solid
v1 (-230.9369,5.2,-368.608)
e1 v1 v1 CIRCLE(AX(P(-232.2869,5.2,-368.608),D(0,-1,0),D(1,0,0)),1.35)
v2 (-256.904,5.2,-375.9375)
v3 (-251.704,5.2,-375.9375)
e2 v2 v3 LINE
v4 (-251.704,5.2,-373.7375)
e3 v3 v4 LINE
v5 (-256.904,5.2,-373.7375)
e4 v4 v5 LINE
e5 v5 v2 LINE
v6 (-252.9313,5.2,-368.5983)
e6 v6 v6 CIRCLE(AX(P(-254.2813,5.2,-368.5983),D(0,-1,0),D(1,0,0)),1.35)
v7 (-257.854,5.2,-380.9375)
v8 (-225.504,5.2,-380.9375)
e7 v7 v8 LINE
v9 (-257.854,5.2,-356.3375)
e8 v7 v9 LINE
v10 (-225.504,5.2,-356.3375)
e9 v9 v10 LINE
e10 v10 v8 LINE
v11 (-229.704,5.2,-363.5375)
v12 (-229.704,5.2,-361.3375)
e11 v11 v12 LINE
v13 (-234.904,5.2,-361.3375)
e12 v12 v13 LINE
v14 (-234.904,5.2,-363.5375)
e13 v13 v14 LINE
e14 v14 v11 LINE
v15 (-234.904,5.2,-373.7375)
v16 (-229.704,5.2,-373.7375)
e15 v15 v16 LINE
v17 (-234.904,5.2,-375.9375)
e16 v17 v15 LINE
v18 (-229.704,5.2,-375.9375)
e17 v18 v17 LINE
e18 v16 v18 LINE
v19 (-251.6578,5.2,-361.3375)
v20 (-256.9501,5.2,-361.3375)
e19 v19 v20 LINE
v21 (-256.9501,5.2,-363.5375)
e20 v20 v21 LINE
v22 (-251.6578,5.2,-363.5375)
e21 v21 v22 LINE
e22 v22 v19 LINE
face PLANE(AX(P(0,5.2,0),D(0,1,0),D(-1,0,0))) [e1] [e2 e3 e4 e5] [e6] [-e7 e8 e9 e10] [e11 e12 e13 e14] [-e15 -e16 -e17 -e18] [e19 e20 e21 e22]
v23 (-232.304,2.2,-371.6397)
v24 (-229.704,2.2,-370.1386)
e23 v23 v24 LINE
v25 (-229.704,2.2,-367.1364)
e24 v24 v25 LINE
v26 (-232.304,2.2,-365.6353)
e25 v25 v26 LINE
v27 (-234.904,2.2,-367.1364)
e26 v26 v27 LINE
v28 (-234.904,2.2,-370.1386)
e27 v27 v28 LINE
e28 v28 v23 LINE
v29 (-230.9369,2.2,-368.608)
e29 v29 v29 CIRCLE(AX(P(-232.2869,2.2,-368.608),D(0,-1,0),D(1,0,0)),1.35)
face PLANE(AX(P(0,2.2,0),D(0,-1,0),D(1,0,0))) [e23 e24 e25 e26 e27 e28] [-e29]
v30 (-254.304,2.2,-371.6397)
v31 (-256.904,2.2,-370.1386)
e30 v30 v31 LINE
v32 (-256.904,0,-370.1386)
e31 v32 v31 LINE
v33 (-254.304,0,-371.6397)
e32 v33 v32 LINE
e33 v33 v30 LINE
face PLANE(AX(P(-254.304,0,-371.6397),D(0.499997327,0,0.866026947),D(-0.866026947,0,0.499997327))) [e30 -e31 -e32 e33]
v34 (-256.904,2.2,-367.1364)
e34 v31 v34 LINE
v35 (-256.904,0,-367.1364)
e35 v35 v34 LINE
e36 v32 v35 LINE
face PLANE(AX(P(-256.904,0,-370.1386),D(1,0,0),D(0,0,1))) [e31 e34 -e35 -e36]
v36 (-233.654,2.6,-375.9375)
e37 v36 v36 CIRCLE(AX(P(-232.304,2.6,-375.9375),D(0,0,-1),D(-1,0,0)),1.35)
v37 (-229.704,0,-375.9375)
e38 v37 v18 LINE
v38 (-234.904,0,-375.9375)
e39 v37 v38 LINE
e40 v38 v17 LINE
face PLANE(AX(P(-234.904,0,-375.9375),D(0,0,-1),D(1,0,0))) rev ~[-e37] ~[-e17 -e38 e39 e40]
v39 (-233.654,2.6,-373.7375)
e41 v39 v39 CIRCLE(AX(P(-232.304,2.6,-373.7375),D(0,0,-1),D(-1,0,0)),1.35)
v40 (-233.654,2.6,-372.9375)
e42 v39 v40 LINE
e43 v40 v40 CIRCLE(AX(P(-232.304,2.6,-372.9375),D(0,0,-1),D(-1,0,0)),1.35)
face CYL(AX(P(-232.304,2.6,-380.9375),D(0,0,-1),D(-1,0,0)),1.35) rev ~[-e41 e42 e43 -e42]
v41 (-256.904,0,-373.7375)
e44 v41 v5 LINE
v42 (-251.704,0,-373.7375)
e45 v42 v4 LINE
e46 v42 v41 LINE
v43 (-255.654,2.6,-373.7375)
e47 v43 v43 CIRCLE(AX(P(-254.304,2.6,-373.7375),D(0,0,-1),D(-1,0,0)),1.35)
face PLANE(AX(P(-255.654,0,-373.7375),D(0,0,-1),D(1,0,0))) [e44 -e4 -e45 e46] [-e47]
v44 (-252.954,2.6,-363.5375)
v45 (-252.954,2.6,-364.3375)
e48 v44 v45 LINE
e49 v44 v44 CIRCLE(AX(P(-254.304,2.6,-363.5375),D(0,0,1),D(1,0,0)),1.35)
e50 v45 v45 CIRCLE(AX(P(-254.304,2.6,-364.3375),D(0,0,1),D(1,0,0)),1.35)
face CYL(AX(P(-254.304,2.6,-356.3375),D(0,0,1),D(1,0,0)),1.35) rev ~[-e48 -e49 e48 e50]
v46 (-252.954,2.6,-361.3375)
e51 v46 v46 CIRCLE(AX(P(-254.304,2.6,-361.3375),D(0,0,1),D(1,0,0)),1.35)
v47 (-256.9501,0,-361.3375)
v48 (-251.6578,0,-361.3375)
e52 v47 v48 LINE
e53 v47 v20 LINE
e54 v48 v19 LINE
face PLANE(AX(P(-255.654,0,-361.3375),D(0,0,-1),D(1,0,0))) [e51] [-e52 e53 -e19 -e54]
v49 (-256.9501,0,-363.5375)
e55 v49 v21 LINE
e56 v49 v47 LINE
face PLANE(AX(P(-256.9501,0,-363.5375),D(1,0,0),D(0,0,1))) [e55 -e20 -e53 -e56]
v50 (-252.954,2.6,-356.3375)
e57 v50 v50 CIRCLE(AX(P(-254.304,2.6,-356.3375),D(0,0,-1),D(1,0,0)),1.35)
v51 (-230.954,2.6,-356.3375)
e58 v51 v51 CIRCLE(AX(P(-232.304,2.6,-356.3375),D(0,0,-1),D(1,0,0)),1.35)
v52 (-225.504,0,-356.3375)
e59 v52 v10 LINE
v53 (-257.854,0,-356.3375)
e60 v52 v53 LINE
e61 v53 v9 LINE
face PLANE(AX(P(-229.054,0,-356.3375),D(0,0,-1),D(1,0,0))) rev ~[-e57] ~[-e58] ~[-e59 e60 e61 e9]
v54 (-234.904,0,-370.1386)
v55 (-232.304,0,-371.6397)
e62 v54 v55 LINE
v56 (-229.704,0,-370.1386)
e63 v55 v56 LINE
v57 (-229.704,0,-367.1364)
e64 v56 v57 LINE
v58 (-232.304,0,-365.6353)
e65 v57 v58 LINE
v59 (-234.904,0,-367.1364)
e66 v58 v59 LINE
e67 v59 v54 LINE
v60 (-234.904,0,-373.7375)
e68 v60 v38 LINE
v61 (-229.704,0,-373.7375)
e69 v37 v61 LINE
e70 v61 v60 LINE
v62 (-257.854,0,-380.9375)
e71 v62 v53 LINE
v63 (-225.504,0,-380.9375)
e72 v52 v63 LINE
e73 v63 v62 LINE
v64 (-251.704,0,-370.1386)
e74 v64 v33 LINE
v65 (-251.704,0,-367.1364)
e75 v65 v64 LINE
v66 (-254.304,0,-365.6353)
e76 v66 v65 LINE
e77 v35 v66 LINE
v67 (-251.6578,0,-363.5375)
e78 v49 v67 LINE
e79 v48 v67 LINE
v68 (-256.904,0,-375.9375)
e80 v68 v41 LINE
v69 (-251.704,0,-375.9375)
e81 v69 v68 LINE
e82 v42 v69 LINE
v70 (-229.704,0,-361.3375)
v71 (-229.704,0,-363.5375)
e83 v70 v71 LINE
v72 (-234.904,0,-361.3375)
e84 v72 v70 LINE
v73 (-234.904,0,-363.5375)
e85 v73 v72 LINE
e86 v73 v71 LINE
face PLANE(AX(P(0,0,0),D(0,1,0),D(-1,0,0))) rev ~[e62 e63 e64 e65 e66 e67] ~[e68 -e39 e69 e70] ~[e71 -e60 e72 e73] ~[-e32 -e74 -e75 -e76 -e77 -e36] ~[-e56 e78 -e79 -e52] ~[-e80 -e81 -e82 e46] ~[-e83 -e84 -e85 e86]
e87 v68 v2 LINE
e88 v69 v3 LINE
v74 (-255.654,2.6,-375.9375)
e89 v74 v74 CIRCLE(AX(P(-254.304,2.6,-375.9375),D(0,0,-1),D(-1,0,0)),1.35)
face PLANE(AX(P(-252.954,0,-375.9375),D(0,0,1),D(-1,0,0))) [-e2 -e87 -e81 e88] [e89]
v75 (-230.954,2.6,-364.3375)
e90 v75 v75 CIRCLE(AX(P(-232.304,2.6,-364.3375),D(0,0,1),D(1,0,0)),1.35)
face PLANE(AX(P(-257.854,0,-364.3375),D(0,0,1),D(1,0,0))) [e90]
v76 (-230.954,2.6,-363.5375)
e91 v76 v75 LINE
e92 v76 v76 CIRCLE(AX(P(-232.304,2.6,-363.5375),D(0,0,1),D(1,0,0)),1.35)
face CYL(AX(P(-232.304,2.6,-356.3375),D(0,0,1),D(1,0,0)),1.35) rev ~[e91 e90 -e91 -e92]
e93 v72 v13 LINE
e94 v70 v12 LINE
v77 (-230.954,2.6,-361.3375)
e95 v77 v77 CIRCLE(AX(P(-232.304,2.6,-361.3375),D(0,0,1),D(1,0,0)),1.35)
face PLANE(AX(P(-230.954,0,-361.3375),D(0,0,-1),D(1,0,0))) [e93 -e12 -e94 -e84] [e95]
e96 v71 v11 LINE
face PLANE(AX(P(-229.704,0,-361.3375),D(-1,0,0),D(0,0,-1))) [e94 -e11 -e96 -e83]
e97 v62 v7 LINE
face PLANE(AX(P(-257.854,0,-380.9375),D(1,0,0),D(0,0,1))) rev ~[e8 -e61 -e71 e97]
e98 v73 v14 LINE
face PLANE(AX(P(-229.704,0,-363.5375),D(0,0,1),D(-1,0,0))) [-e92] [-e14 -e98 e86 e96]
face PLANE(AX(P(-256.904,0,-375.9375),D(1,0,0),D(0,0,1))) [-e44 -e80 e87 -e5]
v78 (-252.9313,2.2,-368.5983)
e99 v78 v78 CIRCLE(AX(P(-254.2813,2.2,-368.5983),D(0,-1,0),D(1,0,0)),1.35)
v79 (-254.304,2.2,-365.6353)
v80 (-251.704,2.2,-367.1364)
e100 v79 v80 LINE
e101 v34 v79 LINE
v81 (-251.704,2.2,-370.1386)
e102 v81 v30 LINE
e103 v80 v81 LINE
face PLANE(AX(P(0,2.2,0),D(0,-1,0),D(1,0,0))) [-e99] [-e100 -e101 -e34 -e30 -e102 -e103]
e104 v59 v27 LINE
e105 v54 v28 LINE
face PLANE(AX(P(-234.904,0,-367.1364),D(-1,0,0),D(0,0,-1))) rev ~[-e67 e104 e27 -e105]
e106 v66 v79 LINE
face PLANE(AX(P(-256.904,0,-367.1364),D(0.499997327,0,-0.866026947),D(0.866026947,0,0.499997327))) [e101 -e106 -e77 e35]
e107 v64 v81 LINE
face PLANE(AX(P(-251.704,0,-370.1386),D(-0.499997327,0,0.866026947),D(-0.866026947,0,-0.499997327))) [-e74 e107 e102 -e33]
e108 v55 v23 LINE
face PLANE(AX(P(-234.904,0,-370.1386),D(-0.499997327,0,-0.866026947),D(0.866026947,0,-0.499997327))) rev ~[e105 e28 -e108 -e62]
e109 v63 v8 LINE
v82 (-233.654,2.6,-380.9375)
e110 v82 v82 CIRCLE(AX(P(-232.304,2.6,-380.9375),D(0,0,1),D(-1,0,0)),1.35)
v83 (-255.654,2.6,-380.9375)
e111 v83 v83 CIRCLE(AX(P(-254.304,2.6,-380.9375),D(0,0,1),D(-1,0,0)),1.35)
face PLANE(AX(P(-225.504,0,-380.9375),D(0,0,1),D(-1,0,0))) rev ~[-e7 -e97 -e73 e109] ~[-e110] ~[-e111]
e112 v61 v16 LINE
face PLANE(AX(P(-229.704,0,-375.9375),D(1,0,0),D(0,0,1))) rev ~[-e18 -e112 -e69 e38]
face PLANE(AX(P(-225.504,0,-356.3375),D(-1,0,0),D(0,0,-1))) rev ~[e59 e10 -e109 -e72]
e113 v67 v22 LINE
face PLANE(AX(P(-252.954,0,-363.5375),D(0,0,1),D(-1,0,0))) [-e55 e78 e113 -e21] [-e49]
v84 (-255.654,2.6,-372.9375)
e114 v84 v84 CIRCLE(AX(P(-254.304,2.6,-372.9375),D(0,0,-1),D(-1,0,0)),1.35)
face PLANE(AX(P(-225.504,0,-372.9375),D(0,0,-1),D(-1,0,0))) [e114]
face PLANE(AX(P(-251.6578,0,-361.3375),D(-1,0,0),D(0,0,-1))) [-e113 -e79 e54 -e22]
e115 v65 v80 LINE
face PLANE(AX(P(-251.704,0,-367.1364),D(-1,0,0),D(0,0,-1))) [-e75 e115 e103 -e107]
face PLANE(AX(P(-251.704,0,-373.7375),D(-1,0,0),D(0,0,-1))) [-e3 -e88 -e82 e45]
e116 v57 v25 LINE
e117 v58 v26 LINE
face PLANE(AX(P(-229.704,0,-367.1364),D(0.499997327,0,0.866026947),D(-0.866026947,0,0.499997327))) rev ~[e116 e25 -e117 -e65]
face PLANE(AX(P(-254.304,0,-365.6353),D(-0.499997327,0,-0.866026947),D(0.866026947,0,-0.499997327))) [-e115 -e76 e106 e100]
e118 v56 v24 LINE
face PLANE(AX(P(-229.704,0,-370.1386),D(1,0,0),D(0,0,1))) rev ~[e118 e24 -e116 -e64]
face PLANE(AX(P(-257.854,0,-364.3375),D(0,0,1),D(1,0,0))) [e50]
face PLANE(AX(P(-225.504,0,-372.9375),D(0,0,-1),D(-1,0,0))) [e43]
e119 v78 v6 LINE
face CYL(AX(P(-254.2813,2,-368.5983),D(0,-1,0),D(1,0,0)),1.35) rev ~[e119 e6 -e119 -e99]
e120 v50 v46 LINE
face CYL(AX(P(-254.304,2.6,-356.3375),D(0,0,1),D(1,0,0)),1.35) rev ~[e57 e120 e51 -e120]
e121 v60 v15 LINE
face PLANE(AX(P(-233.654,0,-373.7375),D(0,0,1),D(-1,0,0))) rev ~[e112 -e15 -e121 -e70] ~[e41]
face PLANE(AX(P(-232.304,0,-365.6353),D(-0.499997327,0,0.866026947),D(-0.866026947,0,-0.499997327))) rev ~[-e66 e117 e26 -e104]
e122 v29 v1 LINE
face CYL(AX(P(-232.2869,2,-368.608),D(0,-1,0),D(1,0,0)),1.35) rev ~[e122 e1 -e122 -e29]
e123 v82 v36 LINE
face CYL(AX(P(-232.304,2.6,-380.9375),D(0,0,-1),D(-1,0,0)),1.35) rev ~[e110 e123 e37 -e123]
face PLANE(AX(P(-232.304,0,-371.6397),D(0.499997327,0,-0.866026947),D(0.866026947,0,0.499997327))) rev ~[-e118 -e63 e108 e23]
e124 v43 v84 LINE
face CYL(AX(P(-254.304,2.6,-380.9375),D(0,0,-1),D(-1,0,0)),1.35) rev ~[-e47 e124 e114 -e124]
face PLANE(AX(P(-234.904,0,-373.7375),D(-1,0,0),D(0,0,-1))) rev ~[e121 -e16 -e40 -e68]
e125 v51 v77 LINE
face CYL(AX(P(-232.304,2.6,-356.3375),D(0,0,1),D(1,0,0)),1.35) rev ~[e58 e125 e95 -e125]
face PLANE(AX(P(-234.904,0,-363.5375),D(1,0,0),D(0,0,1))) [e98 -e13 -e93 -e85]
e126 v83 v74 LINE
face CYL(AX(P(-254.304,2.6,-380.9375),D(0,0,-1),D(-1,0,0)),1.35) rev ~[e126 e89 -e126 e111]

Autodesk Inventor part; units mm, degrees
ref_plane "YZ Plane" through (0, 0, 0) normal (1, 0, 0) x (0, 1, 0)
ref_plane "XZ Plane" through (0, 0, 0) normal (0, 1, 0) x (-1, 0, 0)
ref_plane "XY Plane" through (0, 0, 0) normal (0, 0, 1) x (1, 0, 0)
sketch "스케치1" plane through (0, 0, 0) normal (0, 1, 0) x (-1, 0, 0)
  line L0 (206.554, -381.1375) -> (206.9537, -381.1375)
  line L1 (206.9537, -381.1375) -> (207.1542, -381.1375)
  line L2 (207.1542, -381.1375) -> (210.304, -381.1375)
  line L3 (210.304, -381.1375) -> (210.304, -370.6375)
  line L4 (210.304, -370.6375) -> (211.404, -370.6375)
  line L5 (211.404, -370.6375) -> (211.404, -356.1375)
  line L6 (211.404, -356.1375) -> (224.204, -356.1375)
  line L7 (224.204, -370.6375) -> (224.204, -356.1375)
  line L8 (224.204, -370.6375) -> (225.304, -370.6375)
  line L9 (225.304, -381.1375) -> (225.304, -370.6375)
  line L10 (225.304, -381.1375) -> (228.9537, -381.1375)
  line L11 (228.9537, -381.1375) -> (229.1542, -381.1375)
  line L12 (229.1542, -381.1375) -> (233.029, -381.1375)
  line L13 (233.029, -383.6375) -> (233.029, -381.1375)
  line L14 (233.029, -383.6375) -> (247.079, -383.6375)
  line L15 (247.079, -383.6375) -> (247.079, -381.1375)
  line L16 (247.079, -381.1375) -> (250.9537, -381.1375)
  line L17 (250.9537, -381.1375) -> (251.1542, -381.1375)
  line L18 (251.1542, -381.1375) -> (255.029, -381.1375)
  line L19 (255.029, -383.6375) -> (255.029, -381.1375)
  line L20 (255.029, -383.6375) -> (258.054, -383.6375)
  line L21 (258.054, -353.6375) -> (258.054, -383.6375)
  line L22 (255.029, -353.6375) -> (258.054, -353.6375)
  line L23 (255.029, -353.6375) -> (255.029, -356.1375)
  line L24 (251.1542, -356.1375) -> (255.029, -356.1375)
  line L25 (250.9537, -356.1375) -> (251.1542, -356.1375)
  line L26 (247.079, -356.1375) -> (250.9537, -356.1375)
  line L27 (247.079, -353.6375) -> (247.079, -356.1375)
  line L28 (233.029, -353.6375) -> (247.079, -353.6375)
  line L29 (233.029, -353.6375) -> (233.029, -356.1375)
  line L30 (229.1542, -356.1375) -> (233.029, -356.1375)
  line L31 (228.9537, -356.1375) -> (229.1542, -356.1375)
  line L32 (225.079, -356.1375) -> (228.9537, -356.1375)
  line L33 (225.079, -353.6375) -> (225.079, -356.1375)
  line L34 (211.029, -353.6375) -> (225.079, -353.6375)
  line L35 (211.029, -353.6375) -> (211.029, -356.1375)
  line L36 (207.1542, -356.1375) -> (211.029, -356.1375)
  line L37 (206.9537, -356.1375) -> (207.1542, -356.1375)
  line L38 (206.554, -356.1375) -> (206.9537, -356.1375)
  line L39 (206.554, -356.1375) -> (206.554, -381.1375)
  circle A0 centre (240.054, -368.6375) radius 5.2901
  line L40 (258.054, -356.1375) -> (225.304, -356.1375)
  line L41 (225.304, -356.1375) -> (225.304, -381.1375)
  line L42 (225.304, -381.1375) -> (258.054, -381.1375)
  line L43 (258.054, -381.1375) -> (258.054, -356.1375)
  line L44 (257.854, -356.3375) -> (225.504, -356.3375)
  line L45 (225.504, -356.3375) -> (225.504, -380.9375)
  line L46 (225.504, -380.9375) -> (257.854, -380.9375)
  line L47 (257.854, -380.9375) -> (257.854, -356.3375)
  line L48 (255.029, -354.8875) -> (251.054, -354.8875)
  circle A1 centre (251.054, -354.8875) radius 0.8707
  line L49 (255.029, -382.3875) -> (247.079, -382.3875)
  line L50 (251.054, -354.8875) -> (251.054, -382.3875)
  line L51 (233.029, -354.8875) -> (229.054, -354.8875)
  line L52 (229.054, -354.8875) -> (229.054, -382.3875)
  dimension "d37" = 25
  dimension "d38" = 32.75
  dimension "d39" = 0.2
  dimension "d40" = 2.5
  dimension "d41" = 7.95
  dimension "d42" = 3.975
  dimension "d43" = 3.975
extrude "돌출2" add sketch "스케치1" along normal blind 5.2 contours L52 L46 L45 L44 | L44 L50 L46 L52 | L44 L47 L46 L50 | A0
sketch "스케치4" plane through (-225.504, 0, -380.9375) normal (0, 0, -1) x (-1, 0, 0)
  line L0 (0, 0) -> (32.35, 0) projected
  line L1 (32.35, 0) -> (32.35, 5.2) projected
  line L2 (0, 5.2) -> (32.35, 5.2) projected
  line L3 (0, 0) -> (0, 5.2) projected
  line L4 (32.35, 5.2) -> (28.8, 5.2)
  line L5 (32.35, 5.2) -> (0, 5.2) projected
  line L6 (0, 5.2) -> (6.8, 5.2)
  line L7 (32.35, 2.6) -> (0, 2.6)
  circle A0 centre (28.8, 2.6) radius 1.35
  circle A1 centre (6.8, 2.6) radius 1.35
  point P0 (-225.504, 0)
  dimension "d59" = 3.55
  dimension "d60" = 6.8
  dimension "d69" = 2.7
  dimension "d70" = 2.7
extrude "돌출3" cut sketch "스케치4" against normal blind 8 contours A1 L7 | L7 A1 | A0 L7 | L7 A0
sketch "스케치5" plane through (-257.854, 0, -356.3375) normal (0, 0, 1) x (1, 0, 0)
  circle A0 centre (3.55, 3) radius 1.35 projected
  circle A1 centre (25.55, 3) radius 1.35 projected
  circle A2 centre (3.55, 2.6) radius 1.35 projected
  circle A3 centre (25.55, 2.6) radius 1.35 projected
  point P0 (257.854, 0)
extrude "돌출4" cut sketch "스케치5" against normal blind 8 contours A2 A0 | A0 A2 | A3 A1 | A1 A3 picked at (3.4443, 2.4292) picked at (3.7277, 1.535) picked at (25.4443, 2.4292) picked at (25.7277, 1.535)
sketch "스케치6" plane through (0, 0, 0) normal (0, -1, 0) x (1, 0, 0)
  line L0 (-225.504, -356.3375) -> (-225.504, -380.9375) projected
  line L1 (-225.504, -356.3375) -> (-225.504, -380.9375) projected
  line L2 (-225.504, -356.3375) -> (-225.504, -380.9375) projected
  line L3 (-225.504, -356.3375) -> (-225.504, -380.9375) projected
  line L4 (-257.854, -356.3375) -> (-225.504, -356.3375) projected
  line L5 (-230.954, -380.9375) -> (-233.654, -380.9375) projected
  line L6 (-230.954, -372.9375) -> (-233.654, -372.9375) projected
  line L7 (-233.654, -356.3375) -> (-230.954, -356.3375) projected
  line L8 (-233.654, -364.3375) -> (-230.954, -364.3375) projected
  line L9 (-230.954, -372.9375) -> (-233.654, -372.9375) projected
  line L10 (-230.954, -372.9375) -> (-233.654, -372.9375) projected
  line L11 (-230.954, -380.9375) -> (-233.654, -380.9375) projected
  line L12 (-233.654, -364.3375) -> (-230.954, -364.3375) projected
  line L13 (-233.654, -364.3375) -> (-230.954, -364.3375) projected
  line L14 (-233.654, -356.3375) -> (-230.954, -356.3375) projected
  line L15 (-255.654, -356.3375) -> (-252.954, -356.3375) projected
  line L16 (-255.654, -364.3375) -> (-252.954, -364.3375) projected
  line L17 (-255.654, -356.3375) -> (-252.954, -356.3375) projected
  line L18 (-257.854, -356.3375) -> (-225.504, -356.3375) projected
  line L19 (-257.854, -380.9375) -> (-257.854, -356.3375) projected
  line L20 (-257.854, -380.9375) -> (-257.854, -356.3375) projected
  line L21 (-257.854, -356.3375) -> (-225.504, -356.3375) projected
  line L22 (-257.854, -380.9375) -> (-257.854, -356.3375) projected
  line L23 (-225.504, -380.9375) -> (-257.854, -380.9375) projected
  line L24 (-225.504, -356.3375) -> (-225.504, -380.9375) projected
  line L25 (-257.854, -356.3375) -> (-225.504, -356.3375) projected
  line L26 (-225.504, -356.3375) -> (-225.504, -380.9375) projected
  line L27 (-225.504, -380.9375) -> (-257.854, -380.9375) projected
  line L28 (-257.854, -380.9375) -> (-257.854, -356.3375) projected
  line L29 (-257.854, -356.3375) -> (-225.504, -356.3375) projected
  line L30 (-257.854, -356.3375) -> (-225.504, -356.3375) projected
  line L31 (-257.854, -380.9375) -> (-257.854, -356.3375) projected
  line L32 (-257.854, -380.9375) -> (-257.854, -356.3375) projected
  line L33 (-255.654, -364.3375) -> (-252.954, -364.3375) projected
  line L34 (-255.654, -364.3375) -> (-252.954, -364.3375) projected
  line L35 (-252.954, -372.9375) -> (-255.654, -372.9375) projected
  line L36 (-252.954, -372.9375) -> (-255.654, -372.9375) projected
  line L37 (-252.954, -372.9375) -> (-255.654, -372.9375) projected
  line L38 (-252.954, -380.9375) -> (-255.654, -380.9375) projected
  line L39 (-252.954, -380.9375) -> (-255.654, -380.9375) projected
  line L40 (-225.504, -380.9375) -> (-257.854, -380.9375) projected
  line L41 (-225.504, -380.9375) -> (-257.854, -380.9375) projected
  line L42 (-225.504, -380.9375) -> (-257.854, -380.9375) projected
  line L43 (-225.504, -380.9375) -> (-257.854, -380.9375) projected
  line L44 (-252.954, -356.3375) -> (-252.954, -364.3375) projected
  line L45 (-255.654, -356.3375) -> (-255.654, -364.3375) projected
  line L46 (-255.654, -380.9375) -> (-255.654, -372.9375) projected
  line L47 (-252.954, -380.9375) -> (-252.954, -372.9375) projected
  line L48 (-233.654, -380.9375) -> (-233.654, -372.9375) projected
  line L49 (-230.954, -380.9375) -> (-230.954, -372.9375) projected
  line L50 (-233.654, -356.3375) -> (-233.654, -364.3375) projected
  line L51 (-230.954, -356.3375) -> (-230.954, -364.3375) projected
  line L52 (-232.304, -365.7508) -> (-231.054, -366.4725)
  line L53 (-233.554, -366.4725) -> (-232.304, -365.7508)
  line L54 (-229.804, -367.1941) -> (-229.804, -368.6375)
  line L55 (-231.054, -366.4725) -> (-229.804, -367.1941)
  line L56 (-234.804, -368.6375) -> (-234.804, -367.1941)
  line L57 (-234.804, -367.1941) -> (-233.554, -366.4725)
  line L58 (-234.804, -368.6375) -> (-234.804, -367.1941)
  line L59 (-234.804, -370.0809) -> (-234.804, -368.6375)
  line L60 (-231.054, -370.8026) -> (-232.304, -371.5243)
  line L61 (-232.304, -371.5243) -> (-233.554, -370.8026)
  line L62 (-229.804, -368.6375) -> (-229.804, -370.0809)
  line L63 (-229.804, -370.0809) -> (-231.054, -370.8026)
  line L64 (-229.804, -367.1941) -> (-229.804, -368.6375)
  line L65 (-231.054, -366.4725) -> (-229.804, -367.1941)
  line L66 (-233.554, -370.8026) -> (-234.804, -370.0809)
  line L67 (-234.804, -370.0809) -> (-234.804, -368.6375)
  line L68 (-254.304, -365.7508) -> (-253.054, -366.4725)
  line L69 (-255.554, -366.4725) -> (-254.304, -365.7508)
  line L70 (-251.804, -367.1941) -> (-251.804, -368.6375)
  line L71 (-253.054, -366.4725) -> (-251.804, -367.1941)
  line L72 (-256.804, -368.6375) -> (-256.804, -367.1941)
  line L73 (-256.804, -367.1941) -> (-255.554, -366.4725)
  line L74 (-256.804, -368.6375) -> (-256.804, -367.1941)
  line L75 (-256.804, -370.0809) -> (-256.804, -368.6375)
  line L76 (-253.054, -370.8026) -> (-254.304, -371.5243)
  line L77 (-254.304, -371.5243) -> (-255.554, -370.8026)
  line L78 (-251.804, -368.6375) -> (-251.804, -370.0809)
  line L79 (-251.804, -370.0809) -> (-253.054, -370.8026)
  line L80 (-251.804, -367.1941) -> (-251.804, -368.6375)
  line L81 (-253.054, -366.4725) -> (-251.804, -367.1941)
  line L82 (-255.554, -370.8026) -> (-256.804, -370.0809)
  line L83 (-256.804, -370.0809) -> (-256.804, -368.6375)
  point P0 (0, 0)
  point P1 (-232.304, -368.6375)
  point P2 (-254.304, -368.6375)
  dimension "d75" = 5.7735
extrude "돌출5" cut sketch "스케치6" against normal blind 2 contours L52 L55 L54 L62 L63 L60 L61 L66 L59 L56 L57 L53 | L68 L71 L70 L78 L79 L76 L77 L82 L75 L72 L73 L69
sketch "스케치7" plane through (0, 2, 0) normal (0, -1, 0) x (1, 0, 0)
  line L0 (-256.804, -367.1941) -> (-254.304, -365.7508) projected
  line L1 (-256.804, -370.0809) -> (-256.804, -367.1941) projected
  line L2 (-254.304, -371.5243) -> (-256.804, -370.0809) projected
  line L3 (-251.804, -370.0809) -> (-254.304, -371.5243) projected
  line L4 (-251.804, -367.1941) -> (-251.804, -370.0809) projected
  line L5 (-254.304, -365.7508) -> (-251.804, -367.1941) projected
  line L6 (-234.804, -367.1941) -> (-232.304, -365.7508) projected
  line L7 (-234.804, -370.0809) -> (-234.804, -367.1941) projected
  line L8 (-232.304, -371.5243) -> (-234.804, -370.0809) projected
  line L9 (-229.804, -370.0809) -> (-232.304, -371.5243) projected
  line L10 (-229.804, -367.1941) -> (-229.804, -370.0809) projected
  line L11 (-232.304, -365.7508) -> (-229.804, -367.1941) projected
  circle A0 centre (-254.2813, -368.5983) radius 1.35
  circle A1 centre (-232.2869, -368.608) radius 1.35
  point P0 (0, 0)
  dimension "d71" = 2.7
  dimension "d72" = 2.7
extrude "돌출6" cut sketch "스케치7" against normal blind 8 contours A0 | A1
sketch "스케치9" plane through (0, 0, 0) normal (0, -1, 0) x (1, 0, 0)
  circle A0 centre (-232.2869, -368.608) radius 1.35 projected
  line L0 (-234.804, -367.1941) -> (-232.304, -365.7508) projected
  line L1 (-234.804, -370.0809) -> (-234.804, -367.1941) projected
  line L2 (-232.304, -371.5243) -> (-234.804, -370.0809) projected
  line L3 (-229.804, -370.0809) -> (-232.304, -371.5243) projected
  line L4 (-229.804, -367.1941) -> (-229.804, -370.0809) projected
  line L5 (-232.304, -365.7508) -> (-229.804, -367.1941) projected
  circle A1 centre (-254.2813, -368.5983) radius 1.35 projected
  line L6 (-256.804, -367.1941) -> (-254.304, -365.7508) projected
  line L7 (-256.804, -370.0809) -> (-256.804, -367.1941) projected
  line L8 (-254.304, -371.5243) -> (-256.804, -370.0809) projected
  line L9 (-251.804, -370.0809) -> (-254.304, -371.5243) projected
  line L10 (-251.804, -367.1941) -> (-251.804, -370.0809) projected
  line L11 (-254.304, -365.7508) -> (-251.804, -367.1941) projected
  line L12 (-251.704, -367.1364) -> (-251.704, -370.1386)
  line L13 (-251.704, -370.1386) -> (-254.304, -371.6397)
  line L14 (-254.304, -371.6397) -> (-256.904, -370.1386)
  line L15 (-256.904, -370.1386) -> (-256.904, -367.1364)
  line L16 (-256.904, -367.1364) -> (-254.304, -365.6353)
  line L17 (-254.304, -365.6353) -> (-251.704, -367.1364)
  line L18 (-232.304, -365.6353) -> (-234.904, -367.1364)
  line L19 (-234.904, -367.1364) -> (-234.904, -370.1386)
  line L20 (-234.904, -370.1386) -> (-232.304, -371.6397)
  line L21 (-232.304, -371.6397) -> (-229.704, -370.1386)
  line L22 (-229.704, -370.1386) -> (-229.704, -367.1364)
  line L23 (-229.704, -367.1364) -> (-232.304, -365.6353)
  point P0 (0, 0)
  dimension "d78" = 0.1
  dimension "d79" = 0.1
extrude "돌출7" cut sketch "스케치9" against normal blind 2.2 contours A0 | L0 L5 L4 L3 L2 L1 | A1 | L6 L11 L10 L9 L8 L7 | L12 L13 L14 L15 L16 L17 | L23 L22 L21 L20 L19 L18
sketch "스케치10" plane through (0, 0, 0) normal (0, -1, 0) x (1, 0, 0)
  line L0 (-252.954, -380.9375) -> (-255.654, -380.9375) projected
  line L1 (-257.854, -380.9375) -> (-257.854, -356.3375) projected
  line L2 (-257.854, -380.9375) -> (-257.854, -356.3375) projected
  line L3 (-255.654, -356.3375) -> (-252.954, -356.3375) projected
  line L4 (-252.954, -372.9375) -> (-255.654, -372.9375) projected
  line L5 (-255.654, -364.3375) -> (-252.954, -364.3375) projected
  circle A0 centre (-254.2813, -368.5983) radius 1.35 projected
  line L6 (-230.954, -380.9375) -> (-233.654, -380.9375) projected
  line L7 (-230.954, -372.9375) -> (-233.654, -372.9375) projected
  line L8 (-230.954, -372.9375) -> (-233.654, -372.9375) projected
  line L9 (-230.954, -372.9375) -> (-233.654, -372.9375) projected
  line L10 (-230.954, -380.9375) -> (-233.654, -380.9375) projected
  line L11 (-233.654, -364.3375) -> (-230.954, -364.3375) projected
  line L12 (-233.654, -364.3375) -> (-230.954, -364.3375) projected
  line L13 (-233.654, -356.3375) -> (-230.954, -356.3375) projected
  line L14 (-233.654, -364.3375) -> (-230.954, -364.3375) projected
  line L15 (-233.654, -356.3375) -> (-230.954, -356.3375) projected
  line L16 (-257.854, -356.3375) -> (-225.504, -356.3375) projected
  line L17 (-257.854, -356.3375) -> (-225.504, -356.3375) projected
  line L18 (-225.504, -356.3375) -> (-225.504, -380.9375) projected
  line L19 (-225.504, -356.3375) -> (-225.504, -380.9375) projected
  line L20 (-225.504, -380.9375) -> (-257.854, -380.9375) projected
  line L21 (-225.504, -380.9375) -> (-257.854, -380.9375) projected
  line L22 (-230.954, -380.9375) -> (-233.654, -380.9375) projected
  line L23 (-252.954, -380.9375) -> (-255.654, -380.9375) projected
  line L24 (-225.504, -380.9375) -> (-257.854, -380.9375) projected
  line L25 (-225.504, -380.9375) -> (-257.854, -380.9375) projected
  line L26 (-256.904, -370.1386) -> (-256.904, -367.1364) projected
  line L27 (-256.904, -367.1364) -> (-254.304, -365.6353) projected
  line L28 (-254.304, -365.6353) -> (-251.704, -367.1364) projected
  line L29 (-251.704, -367.1364) -> (-251.704, -370.1386) projected
  line L30 (-251.704, -370.1386) -> (-254.304, -371.6397) projected
  line L31 (-254.304, -371.6397) -> (-256.904, -370.1386) projected
  line L32 (-232.304, -371.6397) -> (-234.904, -370.1386) projected
  line L33 (-234.904, -370.1386) -> (-234.904, -367.1364) projected
  line L34 (-234.904, -367.1364) -> (-232.304, -365.6353) projected
  line L35 (-232.304, -365.6353) -> (-229.704, -367.1364) projected
  line L36 (-229.704, -367.1364) -> (-229.704, -370.1386) projected
  line L37 (-229.704, -370.1386) -> (-232.304, -371.6397) projected
  line L38 (-257.854, -356.3375) -> (-225.504, -356.3375) projected
  line L39 (-257.854, -380.9375) -> (-257.854, -356.3375) projected
  line L40 (-225.504, -380.9375) -> (-257.854, -380.9375) projected
  line L41 (-225.504, -356.3375) -> (-225.504, -380.9375) projected
  circle A1 centre (-232.2869, -368.608) radius 1.35 projected
  circle A2 centre (-254.2813, -368.5983) radius 1.35 projected
  line L42 (-257.854, -356.3375) -> (-225.504, -356.3375) projected
  line L43 (-225.504, -356.3375) -> (-225.504, -380.9375) projected
  line L44 (-225.504, -380.9375) -> (-257.854, -380.9375) projected
  line L45 (-257.854, -380.9375) -> (-257.854, -356.3375) projected
  line L46 (-233.654, -356.3375) -> (-230.954, -356.3375) projected
  line L47 (-255.654, -356.3375) -> (-252.954, -356.3375) projected
  line L48 (-257.854, -356.3375) -> (-225.504, -356.3375) projected
  line L49 (-257.854, -356.3375) -> (-225.504, -356.3375) projected
  line L50 (-234.904, -370.1386) -> (-234.904, -367.1364) projected
  line L51 (-234.904, -370.1386) -> (-234.904, -367.1364) projected
  line L52 (-232.304, -371.6397) -> (-234.904, -370.1386) projected
  line L53 (-232.304, -371.6397) -> (-234.904, -370.1386) projected
  line L54 (-232.304, -371.6397) -> (-234.904, -370.1386) projected
  line L55 (-232.304, -371.6397) -> (-234.904, -370.1386) projected
  line L56 (-234.904, -367.1364) -> (-232.304, -365.6353) projected
  line L57 (-234.904, -367.1364) -> (-232.304, -365.6353) projected
  line L58 (-234.904, -367.1364) -> (-232.304, -365.6353) projected
  line L59 (-234.904, -367.1364) -> (-232.304, -365.6353) projected
  circle A3 centre (-232.2869, -368.608) radius 1.35 projected
  circle A4 centre (-232.2869, -368.608) radius 1.35 projected
  circle A5 centre (-232.2869, -368.608) radius 1.35 projected
  circle A6 centre (-232.2869, -368.608) radius 1.35 projected
  line L60 (-234.904, -370.1386) -> (-234.904, -367.1364) projected
  line L61 (-232.304, -371.6397) -> (-234.904, -370.1386) projected
  line L62 (-229.704, -370.1386) -> (-232.304, -371.6397) projected
  line L63 (-229.704, -367.1364) -> (-229.704, -370.1386) projected
  line L64 (-232.304, -365.6353) -> (-229.704, -367.1364) projected
  line L65 (-234.904, -367.1364) -> (-232.304, -365.6353) projected
  line L66 (-229.704, -367.1364) -> (-229.704, -370.1386) projected
  line L67 (-229.704, -367.1364) -> (-229.704, -370.1386) projected
  line L68 (-229.704, -367.1364) -> (-229.704, -370.1386) projected
  line L69 (-232.304, -365.6353) -> (-229.704, -367.1364) projected
  line L70 (-232.304, -365.6353) -> (-229.704, -367.1364) projected
  line L71 (-225.504, -356.3375) -> (-225.504, -380.9375) projected
  line L72 (-225.504, -356.3375) -> (-225.504, -380.9375) projected
  circle A7 centre (-232.2869, -368.608) radius 1.35 projected
  line L73 (-232.304, -365.6353) -> (-229.704, -367.1364) projected
  line L74 (-229.704, -367.1364) -> (-229.704, -370.1386) projected
  line L75 (-229.704, -370.1386) -> (-232.304, -371.6397) projected
  line L76 (-232.304, -365.6353) -> (-229.704, -367.1364) projected
  line L77 (-229.704, -370.1386) -> (-232.304, -371.6397) projected
  line L78 (-229.704, -370.1386) -> (-232.304, -371.6397) projected
  line L79 (-229.704, -370.1386) -> (-232.304, -371.6397) projected
  line L80 (-234.904, -370.1386) -> (-234.904, -367.1364) projected
  line L81 (-251.704, -367.1364) -> (-251.704, -370.1386) projected
  line L82 (-251.704, -367.1364) -> (-251.704, -370.1386) projected
  line L83 (-254.304, -365.6353) -> (-251.704, -367.1364) projected
  line L84 (-254.304, -365.6353) -> (-251.704, -367.1364) projected
  line L85 (-251.704, -370.1386) -> (-254.304, -371.6397) projected
  line L86 (-251.704, -370.1386) -> (-254.304, -371.6397) projected
  circle A8 centre (-254.2813, -368.5983) radius 1.35 projected
  line L87 (-256.904, -367.1364) -> (-254.304, -365.6353) projected
  line L88 (-256.904, -367.1364) -> (-254.304, -365.6353) projected
  line L89 (-254.304, -371.6397) -> (-256.904, -370.1386) projected
  line L90 (-254.304, -371.6397) -> (-256.904, -370.1386) projected
  line L91 (-234.904, -370.1386) -> (-234.904, -367.1364) projected
  line L92 (-251.704, -370.1386) -> (-254.304, -371.6397) projected
  line L93 (-251.704, -370.1386) -> (-254.304, -371.6397) projected
  line L94 (-252.954, -372.9375) -> (-255.654, -372.9375) projected
  line L95 (-252.954, -372.9375) -> (-255.654, -372.9375) projected
  line L96 (-252.954, -380.9375) -> (-255.654, -380.9375) projected
  line L97 (-254.304, -365.6353) -> (-251.704, -367.1364) projected
  line L98 (-254.304, -365.6353) -> (-251.704, -367.1364) projected
  line L99 (-254.304, -371.6397) -> (-256.904, -370.1386) projected
  line L100 (-254.304, -371.6397) -> (-256.904, -370.1386) projected
  circle A9 centre (-254.2813, -368.5983) radius 1.35 projected
  circle A10 centre (-254.2813, -368.5983) radius 1.35 projected
  line L101 (-256.904, -370.1386) -> (-256.904, -367.1364) projected
  line L102 (-256.904, -370.1386) -> (-256.904, -367.1364) projected
  line L103 (-256.904, -370.1386) -> (-256.904, -367.1364) projected
  line L104 (-256.904, -370.1386) -> (-256.904, -367.1364) projected
  line L105 (-255.654, -364.3375) -> (-252.954, -364.3375) projected
  circle A11 centre (-254.2813, -368.5983) radius 1.35 projected
  line L106 (-256.904, -367.1364) -> (-254.304, -365.6353) projected
  line L107 (-256.904, -370.1386) -> (-256.904, -367.1364) projected
  line L108 (-254.304, -371.6397) -> (-256.904, -370.1386) projected
  line L109 (-251.704, -370.1386) -> (-254.304, -371.6397) projected
  line L110 (-251.704, -367.1364) -> (-251.704, -370.1386) projected
  line L111 (-254.304, -365.6353) -> (-251.704, -367.1364) projected
  line L112 (-257.854, -380.9375) -> (-257.854, -356.3375) projected
  line L113 (-257.854, -380.9375) -> (-257.854, -356.3375) projected
  line L114 (-256.904, -367.1364) -> (-254.304, -365.6353) projected
  line L115 (-256.904, -367.1364) -> (-254.304, -365.6353) projected
  line L116 (-255.654, -364.3375) -> (-252.954, -364.3375) projected
  line L117 (-255.654, -356.3375) -> (-252.954, -356.3375) projected
  line L118 (-251.704, -367.1364) -> (-251.704, -370.1386) projected
  line L119 (-251.704, -367.1364) -> (-251.704, -370.1386) projected
  line L120 (-252.954, -380.9375) -> (-252.954, -372.9375) projected
  line L121 (-255.654, -380.9375) -> (-255.654, -372.9375) projected
  line L122 (-255.654, -356.3375) -> (-255.654, -364.3375) projected
  line L123 (-252.954, -356.3375) -> (-252.954, -364.3375) projected
  line L124 (-233.654, -380.9375) -> (-233.654, -372.9375) projected
  line L125 (-230.954, -380.9375) -> (-230.954, -372.9375) projected
  line L126 (-233.654, -356.3375) -> (-233.654, -364.3375) projected
  line L127 (-230.954, -356.3375) -> (-230.954, -364.3375) projected
  line L128 (-254.304, -380.9375) -> (-254.304, -374.8375)
  line L129 (-251.704, -375.9375) -> (-256.904, -375.9375)
  line L130 (-256.904, -375.9375) -> (-256.904, -373.7375)
  line L131 (-256.904, -373.7375) -> (-251.704, -373.7375)
  line L132 (-251.704, -373.7375) -> (-251.704, -375.9375)
  line L133 (-251.704, -375.9375) -> (-256.904, -373.7375) construction
  line L134 (-256.904, -375.9375) -> (-251.704, -373.7375) construction
  line L135 (-234.904, -375.9375) -> (-229.704, -375.9375)
  line L136 (-229.704, -375.9375) -> (-229.704, -373.7375)
  line L137 (-229.704, -373.7375) -> (-234.904, -373.7375)
  line L138 (-234.904, -373.7375) -> (-234.904, -375.9375)
  line L139 (-234.904, -375.9375) -> (-229.704, -373.7375) construction
  line L140 (-229.704, -375.9375) -> (-234.904, -373.7375) construction
  line L141 (-254.304, -356.3375) -> (-254.304, -362.4375)
  line L142 (-251.6578, -363.5375) -> (-256.9501, -363.5375)
  line L143 (-256.9501, -363.5375) -> (-256.9501, -361.3375)
  line L144 (-256.9501, -361.3375) -> (-251.6578, -361.3375)
  line L145 (-251.6578, -361.3375) -> (-251.6578, -363.5375)
  line L146 (-251.6578, -363.5375) -> (-256.9501, -361.3375) construction
  line L147 (-256.9501, -363.5375) -> (-251.6578, -361.3375) construction
  line L148 (-229.704, -363.5375) -> (-234.904, -363.5375)
  line L149 (-234.904, -363.5375) -> (-234.904, -361.3375)
  line L150 (-234.904, -361.3375) -> (-229.704, -361.3375)
  line L151 (-229.704, -361.3375) -> (-229.704, -363.5375)
  line L152 (-229.704, -363.5375) -> (-234.904, -361.3375) construction
  line L153 (-234.904, -363.5375) -> (-229.704, -361.3375) construction
  point P0 (0, 0)
  point P1 (-232.304, -374.8375)
  point P2 (-232.304, -362.4375)
  dimension "d82" = 6.1
  dimension "d83" = 5.2
  dimension "d84" = 2.2
  dimension "d85" = 5.2
  dimension "d86" = 2.2
  dimension "d87" = 6.1
  dimension "d88" = 2.2
  dimension "d89" = 2.2
extrude "돌출8" cut sketch "스케치10" against normal blind 6 contours L129 L121 L131 L120 | L120 L131 L132 L129 | L135 L138 L137 L124 | L124 L137 L125 L135 | L129 L130 L131 L121 | L125 L137 L136 L135 | L144 L123 L142 L122 | L122 L142 L143 L144 | L150 L151 L148 L127 | L127 L148 L126 L150 | L126 L148 L149 L150 | L144 L145 L142 L123
properties part number "3D_upper_to_head1"
